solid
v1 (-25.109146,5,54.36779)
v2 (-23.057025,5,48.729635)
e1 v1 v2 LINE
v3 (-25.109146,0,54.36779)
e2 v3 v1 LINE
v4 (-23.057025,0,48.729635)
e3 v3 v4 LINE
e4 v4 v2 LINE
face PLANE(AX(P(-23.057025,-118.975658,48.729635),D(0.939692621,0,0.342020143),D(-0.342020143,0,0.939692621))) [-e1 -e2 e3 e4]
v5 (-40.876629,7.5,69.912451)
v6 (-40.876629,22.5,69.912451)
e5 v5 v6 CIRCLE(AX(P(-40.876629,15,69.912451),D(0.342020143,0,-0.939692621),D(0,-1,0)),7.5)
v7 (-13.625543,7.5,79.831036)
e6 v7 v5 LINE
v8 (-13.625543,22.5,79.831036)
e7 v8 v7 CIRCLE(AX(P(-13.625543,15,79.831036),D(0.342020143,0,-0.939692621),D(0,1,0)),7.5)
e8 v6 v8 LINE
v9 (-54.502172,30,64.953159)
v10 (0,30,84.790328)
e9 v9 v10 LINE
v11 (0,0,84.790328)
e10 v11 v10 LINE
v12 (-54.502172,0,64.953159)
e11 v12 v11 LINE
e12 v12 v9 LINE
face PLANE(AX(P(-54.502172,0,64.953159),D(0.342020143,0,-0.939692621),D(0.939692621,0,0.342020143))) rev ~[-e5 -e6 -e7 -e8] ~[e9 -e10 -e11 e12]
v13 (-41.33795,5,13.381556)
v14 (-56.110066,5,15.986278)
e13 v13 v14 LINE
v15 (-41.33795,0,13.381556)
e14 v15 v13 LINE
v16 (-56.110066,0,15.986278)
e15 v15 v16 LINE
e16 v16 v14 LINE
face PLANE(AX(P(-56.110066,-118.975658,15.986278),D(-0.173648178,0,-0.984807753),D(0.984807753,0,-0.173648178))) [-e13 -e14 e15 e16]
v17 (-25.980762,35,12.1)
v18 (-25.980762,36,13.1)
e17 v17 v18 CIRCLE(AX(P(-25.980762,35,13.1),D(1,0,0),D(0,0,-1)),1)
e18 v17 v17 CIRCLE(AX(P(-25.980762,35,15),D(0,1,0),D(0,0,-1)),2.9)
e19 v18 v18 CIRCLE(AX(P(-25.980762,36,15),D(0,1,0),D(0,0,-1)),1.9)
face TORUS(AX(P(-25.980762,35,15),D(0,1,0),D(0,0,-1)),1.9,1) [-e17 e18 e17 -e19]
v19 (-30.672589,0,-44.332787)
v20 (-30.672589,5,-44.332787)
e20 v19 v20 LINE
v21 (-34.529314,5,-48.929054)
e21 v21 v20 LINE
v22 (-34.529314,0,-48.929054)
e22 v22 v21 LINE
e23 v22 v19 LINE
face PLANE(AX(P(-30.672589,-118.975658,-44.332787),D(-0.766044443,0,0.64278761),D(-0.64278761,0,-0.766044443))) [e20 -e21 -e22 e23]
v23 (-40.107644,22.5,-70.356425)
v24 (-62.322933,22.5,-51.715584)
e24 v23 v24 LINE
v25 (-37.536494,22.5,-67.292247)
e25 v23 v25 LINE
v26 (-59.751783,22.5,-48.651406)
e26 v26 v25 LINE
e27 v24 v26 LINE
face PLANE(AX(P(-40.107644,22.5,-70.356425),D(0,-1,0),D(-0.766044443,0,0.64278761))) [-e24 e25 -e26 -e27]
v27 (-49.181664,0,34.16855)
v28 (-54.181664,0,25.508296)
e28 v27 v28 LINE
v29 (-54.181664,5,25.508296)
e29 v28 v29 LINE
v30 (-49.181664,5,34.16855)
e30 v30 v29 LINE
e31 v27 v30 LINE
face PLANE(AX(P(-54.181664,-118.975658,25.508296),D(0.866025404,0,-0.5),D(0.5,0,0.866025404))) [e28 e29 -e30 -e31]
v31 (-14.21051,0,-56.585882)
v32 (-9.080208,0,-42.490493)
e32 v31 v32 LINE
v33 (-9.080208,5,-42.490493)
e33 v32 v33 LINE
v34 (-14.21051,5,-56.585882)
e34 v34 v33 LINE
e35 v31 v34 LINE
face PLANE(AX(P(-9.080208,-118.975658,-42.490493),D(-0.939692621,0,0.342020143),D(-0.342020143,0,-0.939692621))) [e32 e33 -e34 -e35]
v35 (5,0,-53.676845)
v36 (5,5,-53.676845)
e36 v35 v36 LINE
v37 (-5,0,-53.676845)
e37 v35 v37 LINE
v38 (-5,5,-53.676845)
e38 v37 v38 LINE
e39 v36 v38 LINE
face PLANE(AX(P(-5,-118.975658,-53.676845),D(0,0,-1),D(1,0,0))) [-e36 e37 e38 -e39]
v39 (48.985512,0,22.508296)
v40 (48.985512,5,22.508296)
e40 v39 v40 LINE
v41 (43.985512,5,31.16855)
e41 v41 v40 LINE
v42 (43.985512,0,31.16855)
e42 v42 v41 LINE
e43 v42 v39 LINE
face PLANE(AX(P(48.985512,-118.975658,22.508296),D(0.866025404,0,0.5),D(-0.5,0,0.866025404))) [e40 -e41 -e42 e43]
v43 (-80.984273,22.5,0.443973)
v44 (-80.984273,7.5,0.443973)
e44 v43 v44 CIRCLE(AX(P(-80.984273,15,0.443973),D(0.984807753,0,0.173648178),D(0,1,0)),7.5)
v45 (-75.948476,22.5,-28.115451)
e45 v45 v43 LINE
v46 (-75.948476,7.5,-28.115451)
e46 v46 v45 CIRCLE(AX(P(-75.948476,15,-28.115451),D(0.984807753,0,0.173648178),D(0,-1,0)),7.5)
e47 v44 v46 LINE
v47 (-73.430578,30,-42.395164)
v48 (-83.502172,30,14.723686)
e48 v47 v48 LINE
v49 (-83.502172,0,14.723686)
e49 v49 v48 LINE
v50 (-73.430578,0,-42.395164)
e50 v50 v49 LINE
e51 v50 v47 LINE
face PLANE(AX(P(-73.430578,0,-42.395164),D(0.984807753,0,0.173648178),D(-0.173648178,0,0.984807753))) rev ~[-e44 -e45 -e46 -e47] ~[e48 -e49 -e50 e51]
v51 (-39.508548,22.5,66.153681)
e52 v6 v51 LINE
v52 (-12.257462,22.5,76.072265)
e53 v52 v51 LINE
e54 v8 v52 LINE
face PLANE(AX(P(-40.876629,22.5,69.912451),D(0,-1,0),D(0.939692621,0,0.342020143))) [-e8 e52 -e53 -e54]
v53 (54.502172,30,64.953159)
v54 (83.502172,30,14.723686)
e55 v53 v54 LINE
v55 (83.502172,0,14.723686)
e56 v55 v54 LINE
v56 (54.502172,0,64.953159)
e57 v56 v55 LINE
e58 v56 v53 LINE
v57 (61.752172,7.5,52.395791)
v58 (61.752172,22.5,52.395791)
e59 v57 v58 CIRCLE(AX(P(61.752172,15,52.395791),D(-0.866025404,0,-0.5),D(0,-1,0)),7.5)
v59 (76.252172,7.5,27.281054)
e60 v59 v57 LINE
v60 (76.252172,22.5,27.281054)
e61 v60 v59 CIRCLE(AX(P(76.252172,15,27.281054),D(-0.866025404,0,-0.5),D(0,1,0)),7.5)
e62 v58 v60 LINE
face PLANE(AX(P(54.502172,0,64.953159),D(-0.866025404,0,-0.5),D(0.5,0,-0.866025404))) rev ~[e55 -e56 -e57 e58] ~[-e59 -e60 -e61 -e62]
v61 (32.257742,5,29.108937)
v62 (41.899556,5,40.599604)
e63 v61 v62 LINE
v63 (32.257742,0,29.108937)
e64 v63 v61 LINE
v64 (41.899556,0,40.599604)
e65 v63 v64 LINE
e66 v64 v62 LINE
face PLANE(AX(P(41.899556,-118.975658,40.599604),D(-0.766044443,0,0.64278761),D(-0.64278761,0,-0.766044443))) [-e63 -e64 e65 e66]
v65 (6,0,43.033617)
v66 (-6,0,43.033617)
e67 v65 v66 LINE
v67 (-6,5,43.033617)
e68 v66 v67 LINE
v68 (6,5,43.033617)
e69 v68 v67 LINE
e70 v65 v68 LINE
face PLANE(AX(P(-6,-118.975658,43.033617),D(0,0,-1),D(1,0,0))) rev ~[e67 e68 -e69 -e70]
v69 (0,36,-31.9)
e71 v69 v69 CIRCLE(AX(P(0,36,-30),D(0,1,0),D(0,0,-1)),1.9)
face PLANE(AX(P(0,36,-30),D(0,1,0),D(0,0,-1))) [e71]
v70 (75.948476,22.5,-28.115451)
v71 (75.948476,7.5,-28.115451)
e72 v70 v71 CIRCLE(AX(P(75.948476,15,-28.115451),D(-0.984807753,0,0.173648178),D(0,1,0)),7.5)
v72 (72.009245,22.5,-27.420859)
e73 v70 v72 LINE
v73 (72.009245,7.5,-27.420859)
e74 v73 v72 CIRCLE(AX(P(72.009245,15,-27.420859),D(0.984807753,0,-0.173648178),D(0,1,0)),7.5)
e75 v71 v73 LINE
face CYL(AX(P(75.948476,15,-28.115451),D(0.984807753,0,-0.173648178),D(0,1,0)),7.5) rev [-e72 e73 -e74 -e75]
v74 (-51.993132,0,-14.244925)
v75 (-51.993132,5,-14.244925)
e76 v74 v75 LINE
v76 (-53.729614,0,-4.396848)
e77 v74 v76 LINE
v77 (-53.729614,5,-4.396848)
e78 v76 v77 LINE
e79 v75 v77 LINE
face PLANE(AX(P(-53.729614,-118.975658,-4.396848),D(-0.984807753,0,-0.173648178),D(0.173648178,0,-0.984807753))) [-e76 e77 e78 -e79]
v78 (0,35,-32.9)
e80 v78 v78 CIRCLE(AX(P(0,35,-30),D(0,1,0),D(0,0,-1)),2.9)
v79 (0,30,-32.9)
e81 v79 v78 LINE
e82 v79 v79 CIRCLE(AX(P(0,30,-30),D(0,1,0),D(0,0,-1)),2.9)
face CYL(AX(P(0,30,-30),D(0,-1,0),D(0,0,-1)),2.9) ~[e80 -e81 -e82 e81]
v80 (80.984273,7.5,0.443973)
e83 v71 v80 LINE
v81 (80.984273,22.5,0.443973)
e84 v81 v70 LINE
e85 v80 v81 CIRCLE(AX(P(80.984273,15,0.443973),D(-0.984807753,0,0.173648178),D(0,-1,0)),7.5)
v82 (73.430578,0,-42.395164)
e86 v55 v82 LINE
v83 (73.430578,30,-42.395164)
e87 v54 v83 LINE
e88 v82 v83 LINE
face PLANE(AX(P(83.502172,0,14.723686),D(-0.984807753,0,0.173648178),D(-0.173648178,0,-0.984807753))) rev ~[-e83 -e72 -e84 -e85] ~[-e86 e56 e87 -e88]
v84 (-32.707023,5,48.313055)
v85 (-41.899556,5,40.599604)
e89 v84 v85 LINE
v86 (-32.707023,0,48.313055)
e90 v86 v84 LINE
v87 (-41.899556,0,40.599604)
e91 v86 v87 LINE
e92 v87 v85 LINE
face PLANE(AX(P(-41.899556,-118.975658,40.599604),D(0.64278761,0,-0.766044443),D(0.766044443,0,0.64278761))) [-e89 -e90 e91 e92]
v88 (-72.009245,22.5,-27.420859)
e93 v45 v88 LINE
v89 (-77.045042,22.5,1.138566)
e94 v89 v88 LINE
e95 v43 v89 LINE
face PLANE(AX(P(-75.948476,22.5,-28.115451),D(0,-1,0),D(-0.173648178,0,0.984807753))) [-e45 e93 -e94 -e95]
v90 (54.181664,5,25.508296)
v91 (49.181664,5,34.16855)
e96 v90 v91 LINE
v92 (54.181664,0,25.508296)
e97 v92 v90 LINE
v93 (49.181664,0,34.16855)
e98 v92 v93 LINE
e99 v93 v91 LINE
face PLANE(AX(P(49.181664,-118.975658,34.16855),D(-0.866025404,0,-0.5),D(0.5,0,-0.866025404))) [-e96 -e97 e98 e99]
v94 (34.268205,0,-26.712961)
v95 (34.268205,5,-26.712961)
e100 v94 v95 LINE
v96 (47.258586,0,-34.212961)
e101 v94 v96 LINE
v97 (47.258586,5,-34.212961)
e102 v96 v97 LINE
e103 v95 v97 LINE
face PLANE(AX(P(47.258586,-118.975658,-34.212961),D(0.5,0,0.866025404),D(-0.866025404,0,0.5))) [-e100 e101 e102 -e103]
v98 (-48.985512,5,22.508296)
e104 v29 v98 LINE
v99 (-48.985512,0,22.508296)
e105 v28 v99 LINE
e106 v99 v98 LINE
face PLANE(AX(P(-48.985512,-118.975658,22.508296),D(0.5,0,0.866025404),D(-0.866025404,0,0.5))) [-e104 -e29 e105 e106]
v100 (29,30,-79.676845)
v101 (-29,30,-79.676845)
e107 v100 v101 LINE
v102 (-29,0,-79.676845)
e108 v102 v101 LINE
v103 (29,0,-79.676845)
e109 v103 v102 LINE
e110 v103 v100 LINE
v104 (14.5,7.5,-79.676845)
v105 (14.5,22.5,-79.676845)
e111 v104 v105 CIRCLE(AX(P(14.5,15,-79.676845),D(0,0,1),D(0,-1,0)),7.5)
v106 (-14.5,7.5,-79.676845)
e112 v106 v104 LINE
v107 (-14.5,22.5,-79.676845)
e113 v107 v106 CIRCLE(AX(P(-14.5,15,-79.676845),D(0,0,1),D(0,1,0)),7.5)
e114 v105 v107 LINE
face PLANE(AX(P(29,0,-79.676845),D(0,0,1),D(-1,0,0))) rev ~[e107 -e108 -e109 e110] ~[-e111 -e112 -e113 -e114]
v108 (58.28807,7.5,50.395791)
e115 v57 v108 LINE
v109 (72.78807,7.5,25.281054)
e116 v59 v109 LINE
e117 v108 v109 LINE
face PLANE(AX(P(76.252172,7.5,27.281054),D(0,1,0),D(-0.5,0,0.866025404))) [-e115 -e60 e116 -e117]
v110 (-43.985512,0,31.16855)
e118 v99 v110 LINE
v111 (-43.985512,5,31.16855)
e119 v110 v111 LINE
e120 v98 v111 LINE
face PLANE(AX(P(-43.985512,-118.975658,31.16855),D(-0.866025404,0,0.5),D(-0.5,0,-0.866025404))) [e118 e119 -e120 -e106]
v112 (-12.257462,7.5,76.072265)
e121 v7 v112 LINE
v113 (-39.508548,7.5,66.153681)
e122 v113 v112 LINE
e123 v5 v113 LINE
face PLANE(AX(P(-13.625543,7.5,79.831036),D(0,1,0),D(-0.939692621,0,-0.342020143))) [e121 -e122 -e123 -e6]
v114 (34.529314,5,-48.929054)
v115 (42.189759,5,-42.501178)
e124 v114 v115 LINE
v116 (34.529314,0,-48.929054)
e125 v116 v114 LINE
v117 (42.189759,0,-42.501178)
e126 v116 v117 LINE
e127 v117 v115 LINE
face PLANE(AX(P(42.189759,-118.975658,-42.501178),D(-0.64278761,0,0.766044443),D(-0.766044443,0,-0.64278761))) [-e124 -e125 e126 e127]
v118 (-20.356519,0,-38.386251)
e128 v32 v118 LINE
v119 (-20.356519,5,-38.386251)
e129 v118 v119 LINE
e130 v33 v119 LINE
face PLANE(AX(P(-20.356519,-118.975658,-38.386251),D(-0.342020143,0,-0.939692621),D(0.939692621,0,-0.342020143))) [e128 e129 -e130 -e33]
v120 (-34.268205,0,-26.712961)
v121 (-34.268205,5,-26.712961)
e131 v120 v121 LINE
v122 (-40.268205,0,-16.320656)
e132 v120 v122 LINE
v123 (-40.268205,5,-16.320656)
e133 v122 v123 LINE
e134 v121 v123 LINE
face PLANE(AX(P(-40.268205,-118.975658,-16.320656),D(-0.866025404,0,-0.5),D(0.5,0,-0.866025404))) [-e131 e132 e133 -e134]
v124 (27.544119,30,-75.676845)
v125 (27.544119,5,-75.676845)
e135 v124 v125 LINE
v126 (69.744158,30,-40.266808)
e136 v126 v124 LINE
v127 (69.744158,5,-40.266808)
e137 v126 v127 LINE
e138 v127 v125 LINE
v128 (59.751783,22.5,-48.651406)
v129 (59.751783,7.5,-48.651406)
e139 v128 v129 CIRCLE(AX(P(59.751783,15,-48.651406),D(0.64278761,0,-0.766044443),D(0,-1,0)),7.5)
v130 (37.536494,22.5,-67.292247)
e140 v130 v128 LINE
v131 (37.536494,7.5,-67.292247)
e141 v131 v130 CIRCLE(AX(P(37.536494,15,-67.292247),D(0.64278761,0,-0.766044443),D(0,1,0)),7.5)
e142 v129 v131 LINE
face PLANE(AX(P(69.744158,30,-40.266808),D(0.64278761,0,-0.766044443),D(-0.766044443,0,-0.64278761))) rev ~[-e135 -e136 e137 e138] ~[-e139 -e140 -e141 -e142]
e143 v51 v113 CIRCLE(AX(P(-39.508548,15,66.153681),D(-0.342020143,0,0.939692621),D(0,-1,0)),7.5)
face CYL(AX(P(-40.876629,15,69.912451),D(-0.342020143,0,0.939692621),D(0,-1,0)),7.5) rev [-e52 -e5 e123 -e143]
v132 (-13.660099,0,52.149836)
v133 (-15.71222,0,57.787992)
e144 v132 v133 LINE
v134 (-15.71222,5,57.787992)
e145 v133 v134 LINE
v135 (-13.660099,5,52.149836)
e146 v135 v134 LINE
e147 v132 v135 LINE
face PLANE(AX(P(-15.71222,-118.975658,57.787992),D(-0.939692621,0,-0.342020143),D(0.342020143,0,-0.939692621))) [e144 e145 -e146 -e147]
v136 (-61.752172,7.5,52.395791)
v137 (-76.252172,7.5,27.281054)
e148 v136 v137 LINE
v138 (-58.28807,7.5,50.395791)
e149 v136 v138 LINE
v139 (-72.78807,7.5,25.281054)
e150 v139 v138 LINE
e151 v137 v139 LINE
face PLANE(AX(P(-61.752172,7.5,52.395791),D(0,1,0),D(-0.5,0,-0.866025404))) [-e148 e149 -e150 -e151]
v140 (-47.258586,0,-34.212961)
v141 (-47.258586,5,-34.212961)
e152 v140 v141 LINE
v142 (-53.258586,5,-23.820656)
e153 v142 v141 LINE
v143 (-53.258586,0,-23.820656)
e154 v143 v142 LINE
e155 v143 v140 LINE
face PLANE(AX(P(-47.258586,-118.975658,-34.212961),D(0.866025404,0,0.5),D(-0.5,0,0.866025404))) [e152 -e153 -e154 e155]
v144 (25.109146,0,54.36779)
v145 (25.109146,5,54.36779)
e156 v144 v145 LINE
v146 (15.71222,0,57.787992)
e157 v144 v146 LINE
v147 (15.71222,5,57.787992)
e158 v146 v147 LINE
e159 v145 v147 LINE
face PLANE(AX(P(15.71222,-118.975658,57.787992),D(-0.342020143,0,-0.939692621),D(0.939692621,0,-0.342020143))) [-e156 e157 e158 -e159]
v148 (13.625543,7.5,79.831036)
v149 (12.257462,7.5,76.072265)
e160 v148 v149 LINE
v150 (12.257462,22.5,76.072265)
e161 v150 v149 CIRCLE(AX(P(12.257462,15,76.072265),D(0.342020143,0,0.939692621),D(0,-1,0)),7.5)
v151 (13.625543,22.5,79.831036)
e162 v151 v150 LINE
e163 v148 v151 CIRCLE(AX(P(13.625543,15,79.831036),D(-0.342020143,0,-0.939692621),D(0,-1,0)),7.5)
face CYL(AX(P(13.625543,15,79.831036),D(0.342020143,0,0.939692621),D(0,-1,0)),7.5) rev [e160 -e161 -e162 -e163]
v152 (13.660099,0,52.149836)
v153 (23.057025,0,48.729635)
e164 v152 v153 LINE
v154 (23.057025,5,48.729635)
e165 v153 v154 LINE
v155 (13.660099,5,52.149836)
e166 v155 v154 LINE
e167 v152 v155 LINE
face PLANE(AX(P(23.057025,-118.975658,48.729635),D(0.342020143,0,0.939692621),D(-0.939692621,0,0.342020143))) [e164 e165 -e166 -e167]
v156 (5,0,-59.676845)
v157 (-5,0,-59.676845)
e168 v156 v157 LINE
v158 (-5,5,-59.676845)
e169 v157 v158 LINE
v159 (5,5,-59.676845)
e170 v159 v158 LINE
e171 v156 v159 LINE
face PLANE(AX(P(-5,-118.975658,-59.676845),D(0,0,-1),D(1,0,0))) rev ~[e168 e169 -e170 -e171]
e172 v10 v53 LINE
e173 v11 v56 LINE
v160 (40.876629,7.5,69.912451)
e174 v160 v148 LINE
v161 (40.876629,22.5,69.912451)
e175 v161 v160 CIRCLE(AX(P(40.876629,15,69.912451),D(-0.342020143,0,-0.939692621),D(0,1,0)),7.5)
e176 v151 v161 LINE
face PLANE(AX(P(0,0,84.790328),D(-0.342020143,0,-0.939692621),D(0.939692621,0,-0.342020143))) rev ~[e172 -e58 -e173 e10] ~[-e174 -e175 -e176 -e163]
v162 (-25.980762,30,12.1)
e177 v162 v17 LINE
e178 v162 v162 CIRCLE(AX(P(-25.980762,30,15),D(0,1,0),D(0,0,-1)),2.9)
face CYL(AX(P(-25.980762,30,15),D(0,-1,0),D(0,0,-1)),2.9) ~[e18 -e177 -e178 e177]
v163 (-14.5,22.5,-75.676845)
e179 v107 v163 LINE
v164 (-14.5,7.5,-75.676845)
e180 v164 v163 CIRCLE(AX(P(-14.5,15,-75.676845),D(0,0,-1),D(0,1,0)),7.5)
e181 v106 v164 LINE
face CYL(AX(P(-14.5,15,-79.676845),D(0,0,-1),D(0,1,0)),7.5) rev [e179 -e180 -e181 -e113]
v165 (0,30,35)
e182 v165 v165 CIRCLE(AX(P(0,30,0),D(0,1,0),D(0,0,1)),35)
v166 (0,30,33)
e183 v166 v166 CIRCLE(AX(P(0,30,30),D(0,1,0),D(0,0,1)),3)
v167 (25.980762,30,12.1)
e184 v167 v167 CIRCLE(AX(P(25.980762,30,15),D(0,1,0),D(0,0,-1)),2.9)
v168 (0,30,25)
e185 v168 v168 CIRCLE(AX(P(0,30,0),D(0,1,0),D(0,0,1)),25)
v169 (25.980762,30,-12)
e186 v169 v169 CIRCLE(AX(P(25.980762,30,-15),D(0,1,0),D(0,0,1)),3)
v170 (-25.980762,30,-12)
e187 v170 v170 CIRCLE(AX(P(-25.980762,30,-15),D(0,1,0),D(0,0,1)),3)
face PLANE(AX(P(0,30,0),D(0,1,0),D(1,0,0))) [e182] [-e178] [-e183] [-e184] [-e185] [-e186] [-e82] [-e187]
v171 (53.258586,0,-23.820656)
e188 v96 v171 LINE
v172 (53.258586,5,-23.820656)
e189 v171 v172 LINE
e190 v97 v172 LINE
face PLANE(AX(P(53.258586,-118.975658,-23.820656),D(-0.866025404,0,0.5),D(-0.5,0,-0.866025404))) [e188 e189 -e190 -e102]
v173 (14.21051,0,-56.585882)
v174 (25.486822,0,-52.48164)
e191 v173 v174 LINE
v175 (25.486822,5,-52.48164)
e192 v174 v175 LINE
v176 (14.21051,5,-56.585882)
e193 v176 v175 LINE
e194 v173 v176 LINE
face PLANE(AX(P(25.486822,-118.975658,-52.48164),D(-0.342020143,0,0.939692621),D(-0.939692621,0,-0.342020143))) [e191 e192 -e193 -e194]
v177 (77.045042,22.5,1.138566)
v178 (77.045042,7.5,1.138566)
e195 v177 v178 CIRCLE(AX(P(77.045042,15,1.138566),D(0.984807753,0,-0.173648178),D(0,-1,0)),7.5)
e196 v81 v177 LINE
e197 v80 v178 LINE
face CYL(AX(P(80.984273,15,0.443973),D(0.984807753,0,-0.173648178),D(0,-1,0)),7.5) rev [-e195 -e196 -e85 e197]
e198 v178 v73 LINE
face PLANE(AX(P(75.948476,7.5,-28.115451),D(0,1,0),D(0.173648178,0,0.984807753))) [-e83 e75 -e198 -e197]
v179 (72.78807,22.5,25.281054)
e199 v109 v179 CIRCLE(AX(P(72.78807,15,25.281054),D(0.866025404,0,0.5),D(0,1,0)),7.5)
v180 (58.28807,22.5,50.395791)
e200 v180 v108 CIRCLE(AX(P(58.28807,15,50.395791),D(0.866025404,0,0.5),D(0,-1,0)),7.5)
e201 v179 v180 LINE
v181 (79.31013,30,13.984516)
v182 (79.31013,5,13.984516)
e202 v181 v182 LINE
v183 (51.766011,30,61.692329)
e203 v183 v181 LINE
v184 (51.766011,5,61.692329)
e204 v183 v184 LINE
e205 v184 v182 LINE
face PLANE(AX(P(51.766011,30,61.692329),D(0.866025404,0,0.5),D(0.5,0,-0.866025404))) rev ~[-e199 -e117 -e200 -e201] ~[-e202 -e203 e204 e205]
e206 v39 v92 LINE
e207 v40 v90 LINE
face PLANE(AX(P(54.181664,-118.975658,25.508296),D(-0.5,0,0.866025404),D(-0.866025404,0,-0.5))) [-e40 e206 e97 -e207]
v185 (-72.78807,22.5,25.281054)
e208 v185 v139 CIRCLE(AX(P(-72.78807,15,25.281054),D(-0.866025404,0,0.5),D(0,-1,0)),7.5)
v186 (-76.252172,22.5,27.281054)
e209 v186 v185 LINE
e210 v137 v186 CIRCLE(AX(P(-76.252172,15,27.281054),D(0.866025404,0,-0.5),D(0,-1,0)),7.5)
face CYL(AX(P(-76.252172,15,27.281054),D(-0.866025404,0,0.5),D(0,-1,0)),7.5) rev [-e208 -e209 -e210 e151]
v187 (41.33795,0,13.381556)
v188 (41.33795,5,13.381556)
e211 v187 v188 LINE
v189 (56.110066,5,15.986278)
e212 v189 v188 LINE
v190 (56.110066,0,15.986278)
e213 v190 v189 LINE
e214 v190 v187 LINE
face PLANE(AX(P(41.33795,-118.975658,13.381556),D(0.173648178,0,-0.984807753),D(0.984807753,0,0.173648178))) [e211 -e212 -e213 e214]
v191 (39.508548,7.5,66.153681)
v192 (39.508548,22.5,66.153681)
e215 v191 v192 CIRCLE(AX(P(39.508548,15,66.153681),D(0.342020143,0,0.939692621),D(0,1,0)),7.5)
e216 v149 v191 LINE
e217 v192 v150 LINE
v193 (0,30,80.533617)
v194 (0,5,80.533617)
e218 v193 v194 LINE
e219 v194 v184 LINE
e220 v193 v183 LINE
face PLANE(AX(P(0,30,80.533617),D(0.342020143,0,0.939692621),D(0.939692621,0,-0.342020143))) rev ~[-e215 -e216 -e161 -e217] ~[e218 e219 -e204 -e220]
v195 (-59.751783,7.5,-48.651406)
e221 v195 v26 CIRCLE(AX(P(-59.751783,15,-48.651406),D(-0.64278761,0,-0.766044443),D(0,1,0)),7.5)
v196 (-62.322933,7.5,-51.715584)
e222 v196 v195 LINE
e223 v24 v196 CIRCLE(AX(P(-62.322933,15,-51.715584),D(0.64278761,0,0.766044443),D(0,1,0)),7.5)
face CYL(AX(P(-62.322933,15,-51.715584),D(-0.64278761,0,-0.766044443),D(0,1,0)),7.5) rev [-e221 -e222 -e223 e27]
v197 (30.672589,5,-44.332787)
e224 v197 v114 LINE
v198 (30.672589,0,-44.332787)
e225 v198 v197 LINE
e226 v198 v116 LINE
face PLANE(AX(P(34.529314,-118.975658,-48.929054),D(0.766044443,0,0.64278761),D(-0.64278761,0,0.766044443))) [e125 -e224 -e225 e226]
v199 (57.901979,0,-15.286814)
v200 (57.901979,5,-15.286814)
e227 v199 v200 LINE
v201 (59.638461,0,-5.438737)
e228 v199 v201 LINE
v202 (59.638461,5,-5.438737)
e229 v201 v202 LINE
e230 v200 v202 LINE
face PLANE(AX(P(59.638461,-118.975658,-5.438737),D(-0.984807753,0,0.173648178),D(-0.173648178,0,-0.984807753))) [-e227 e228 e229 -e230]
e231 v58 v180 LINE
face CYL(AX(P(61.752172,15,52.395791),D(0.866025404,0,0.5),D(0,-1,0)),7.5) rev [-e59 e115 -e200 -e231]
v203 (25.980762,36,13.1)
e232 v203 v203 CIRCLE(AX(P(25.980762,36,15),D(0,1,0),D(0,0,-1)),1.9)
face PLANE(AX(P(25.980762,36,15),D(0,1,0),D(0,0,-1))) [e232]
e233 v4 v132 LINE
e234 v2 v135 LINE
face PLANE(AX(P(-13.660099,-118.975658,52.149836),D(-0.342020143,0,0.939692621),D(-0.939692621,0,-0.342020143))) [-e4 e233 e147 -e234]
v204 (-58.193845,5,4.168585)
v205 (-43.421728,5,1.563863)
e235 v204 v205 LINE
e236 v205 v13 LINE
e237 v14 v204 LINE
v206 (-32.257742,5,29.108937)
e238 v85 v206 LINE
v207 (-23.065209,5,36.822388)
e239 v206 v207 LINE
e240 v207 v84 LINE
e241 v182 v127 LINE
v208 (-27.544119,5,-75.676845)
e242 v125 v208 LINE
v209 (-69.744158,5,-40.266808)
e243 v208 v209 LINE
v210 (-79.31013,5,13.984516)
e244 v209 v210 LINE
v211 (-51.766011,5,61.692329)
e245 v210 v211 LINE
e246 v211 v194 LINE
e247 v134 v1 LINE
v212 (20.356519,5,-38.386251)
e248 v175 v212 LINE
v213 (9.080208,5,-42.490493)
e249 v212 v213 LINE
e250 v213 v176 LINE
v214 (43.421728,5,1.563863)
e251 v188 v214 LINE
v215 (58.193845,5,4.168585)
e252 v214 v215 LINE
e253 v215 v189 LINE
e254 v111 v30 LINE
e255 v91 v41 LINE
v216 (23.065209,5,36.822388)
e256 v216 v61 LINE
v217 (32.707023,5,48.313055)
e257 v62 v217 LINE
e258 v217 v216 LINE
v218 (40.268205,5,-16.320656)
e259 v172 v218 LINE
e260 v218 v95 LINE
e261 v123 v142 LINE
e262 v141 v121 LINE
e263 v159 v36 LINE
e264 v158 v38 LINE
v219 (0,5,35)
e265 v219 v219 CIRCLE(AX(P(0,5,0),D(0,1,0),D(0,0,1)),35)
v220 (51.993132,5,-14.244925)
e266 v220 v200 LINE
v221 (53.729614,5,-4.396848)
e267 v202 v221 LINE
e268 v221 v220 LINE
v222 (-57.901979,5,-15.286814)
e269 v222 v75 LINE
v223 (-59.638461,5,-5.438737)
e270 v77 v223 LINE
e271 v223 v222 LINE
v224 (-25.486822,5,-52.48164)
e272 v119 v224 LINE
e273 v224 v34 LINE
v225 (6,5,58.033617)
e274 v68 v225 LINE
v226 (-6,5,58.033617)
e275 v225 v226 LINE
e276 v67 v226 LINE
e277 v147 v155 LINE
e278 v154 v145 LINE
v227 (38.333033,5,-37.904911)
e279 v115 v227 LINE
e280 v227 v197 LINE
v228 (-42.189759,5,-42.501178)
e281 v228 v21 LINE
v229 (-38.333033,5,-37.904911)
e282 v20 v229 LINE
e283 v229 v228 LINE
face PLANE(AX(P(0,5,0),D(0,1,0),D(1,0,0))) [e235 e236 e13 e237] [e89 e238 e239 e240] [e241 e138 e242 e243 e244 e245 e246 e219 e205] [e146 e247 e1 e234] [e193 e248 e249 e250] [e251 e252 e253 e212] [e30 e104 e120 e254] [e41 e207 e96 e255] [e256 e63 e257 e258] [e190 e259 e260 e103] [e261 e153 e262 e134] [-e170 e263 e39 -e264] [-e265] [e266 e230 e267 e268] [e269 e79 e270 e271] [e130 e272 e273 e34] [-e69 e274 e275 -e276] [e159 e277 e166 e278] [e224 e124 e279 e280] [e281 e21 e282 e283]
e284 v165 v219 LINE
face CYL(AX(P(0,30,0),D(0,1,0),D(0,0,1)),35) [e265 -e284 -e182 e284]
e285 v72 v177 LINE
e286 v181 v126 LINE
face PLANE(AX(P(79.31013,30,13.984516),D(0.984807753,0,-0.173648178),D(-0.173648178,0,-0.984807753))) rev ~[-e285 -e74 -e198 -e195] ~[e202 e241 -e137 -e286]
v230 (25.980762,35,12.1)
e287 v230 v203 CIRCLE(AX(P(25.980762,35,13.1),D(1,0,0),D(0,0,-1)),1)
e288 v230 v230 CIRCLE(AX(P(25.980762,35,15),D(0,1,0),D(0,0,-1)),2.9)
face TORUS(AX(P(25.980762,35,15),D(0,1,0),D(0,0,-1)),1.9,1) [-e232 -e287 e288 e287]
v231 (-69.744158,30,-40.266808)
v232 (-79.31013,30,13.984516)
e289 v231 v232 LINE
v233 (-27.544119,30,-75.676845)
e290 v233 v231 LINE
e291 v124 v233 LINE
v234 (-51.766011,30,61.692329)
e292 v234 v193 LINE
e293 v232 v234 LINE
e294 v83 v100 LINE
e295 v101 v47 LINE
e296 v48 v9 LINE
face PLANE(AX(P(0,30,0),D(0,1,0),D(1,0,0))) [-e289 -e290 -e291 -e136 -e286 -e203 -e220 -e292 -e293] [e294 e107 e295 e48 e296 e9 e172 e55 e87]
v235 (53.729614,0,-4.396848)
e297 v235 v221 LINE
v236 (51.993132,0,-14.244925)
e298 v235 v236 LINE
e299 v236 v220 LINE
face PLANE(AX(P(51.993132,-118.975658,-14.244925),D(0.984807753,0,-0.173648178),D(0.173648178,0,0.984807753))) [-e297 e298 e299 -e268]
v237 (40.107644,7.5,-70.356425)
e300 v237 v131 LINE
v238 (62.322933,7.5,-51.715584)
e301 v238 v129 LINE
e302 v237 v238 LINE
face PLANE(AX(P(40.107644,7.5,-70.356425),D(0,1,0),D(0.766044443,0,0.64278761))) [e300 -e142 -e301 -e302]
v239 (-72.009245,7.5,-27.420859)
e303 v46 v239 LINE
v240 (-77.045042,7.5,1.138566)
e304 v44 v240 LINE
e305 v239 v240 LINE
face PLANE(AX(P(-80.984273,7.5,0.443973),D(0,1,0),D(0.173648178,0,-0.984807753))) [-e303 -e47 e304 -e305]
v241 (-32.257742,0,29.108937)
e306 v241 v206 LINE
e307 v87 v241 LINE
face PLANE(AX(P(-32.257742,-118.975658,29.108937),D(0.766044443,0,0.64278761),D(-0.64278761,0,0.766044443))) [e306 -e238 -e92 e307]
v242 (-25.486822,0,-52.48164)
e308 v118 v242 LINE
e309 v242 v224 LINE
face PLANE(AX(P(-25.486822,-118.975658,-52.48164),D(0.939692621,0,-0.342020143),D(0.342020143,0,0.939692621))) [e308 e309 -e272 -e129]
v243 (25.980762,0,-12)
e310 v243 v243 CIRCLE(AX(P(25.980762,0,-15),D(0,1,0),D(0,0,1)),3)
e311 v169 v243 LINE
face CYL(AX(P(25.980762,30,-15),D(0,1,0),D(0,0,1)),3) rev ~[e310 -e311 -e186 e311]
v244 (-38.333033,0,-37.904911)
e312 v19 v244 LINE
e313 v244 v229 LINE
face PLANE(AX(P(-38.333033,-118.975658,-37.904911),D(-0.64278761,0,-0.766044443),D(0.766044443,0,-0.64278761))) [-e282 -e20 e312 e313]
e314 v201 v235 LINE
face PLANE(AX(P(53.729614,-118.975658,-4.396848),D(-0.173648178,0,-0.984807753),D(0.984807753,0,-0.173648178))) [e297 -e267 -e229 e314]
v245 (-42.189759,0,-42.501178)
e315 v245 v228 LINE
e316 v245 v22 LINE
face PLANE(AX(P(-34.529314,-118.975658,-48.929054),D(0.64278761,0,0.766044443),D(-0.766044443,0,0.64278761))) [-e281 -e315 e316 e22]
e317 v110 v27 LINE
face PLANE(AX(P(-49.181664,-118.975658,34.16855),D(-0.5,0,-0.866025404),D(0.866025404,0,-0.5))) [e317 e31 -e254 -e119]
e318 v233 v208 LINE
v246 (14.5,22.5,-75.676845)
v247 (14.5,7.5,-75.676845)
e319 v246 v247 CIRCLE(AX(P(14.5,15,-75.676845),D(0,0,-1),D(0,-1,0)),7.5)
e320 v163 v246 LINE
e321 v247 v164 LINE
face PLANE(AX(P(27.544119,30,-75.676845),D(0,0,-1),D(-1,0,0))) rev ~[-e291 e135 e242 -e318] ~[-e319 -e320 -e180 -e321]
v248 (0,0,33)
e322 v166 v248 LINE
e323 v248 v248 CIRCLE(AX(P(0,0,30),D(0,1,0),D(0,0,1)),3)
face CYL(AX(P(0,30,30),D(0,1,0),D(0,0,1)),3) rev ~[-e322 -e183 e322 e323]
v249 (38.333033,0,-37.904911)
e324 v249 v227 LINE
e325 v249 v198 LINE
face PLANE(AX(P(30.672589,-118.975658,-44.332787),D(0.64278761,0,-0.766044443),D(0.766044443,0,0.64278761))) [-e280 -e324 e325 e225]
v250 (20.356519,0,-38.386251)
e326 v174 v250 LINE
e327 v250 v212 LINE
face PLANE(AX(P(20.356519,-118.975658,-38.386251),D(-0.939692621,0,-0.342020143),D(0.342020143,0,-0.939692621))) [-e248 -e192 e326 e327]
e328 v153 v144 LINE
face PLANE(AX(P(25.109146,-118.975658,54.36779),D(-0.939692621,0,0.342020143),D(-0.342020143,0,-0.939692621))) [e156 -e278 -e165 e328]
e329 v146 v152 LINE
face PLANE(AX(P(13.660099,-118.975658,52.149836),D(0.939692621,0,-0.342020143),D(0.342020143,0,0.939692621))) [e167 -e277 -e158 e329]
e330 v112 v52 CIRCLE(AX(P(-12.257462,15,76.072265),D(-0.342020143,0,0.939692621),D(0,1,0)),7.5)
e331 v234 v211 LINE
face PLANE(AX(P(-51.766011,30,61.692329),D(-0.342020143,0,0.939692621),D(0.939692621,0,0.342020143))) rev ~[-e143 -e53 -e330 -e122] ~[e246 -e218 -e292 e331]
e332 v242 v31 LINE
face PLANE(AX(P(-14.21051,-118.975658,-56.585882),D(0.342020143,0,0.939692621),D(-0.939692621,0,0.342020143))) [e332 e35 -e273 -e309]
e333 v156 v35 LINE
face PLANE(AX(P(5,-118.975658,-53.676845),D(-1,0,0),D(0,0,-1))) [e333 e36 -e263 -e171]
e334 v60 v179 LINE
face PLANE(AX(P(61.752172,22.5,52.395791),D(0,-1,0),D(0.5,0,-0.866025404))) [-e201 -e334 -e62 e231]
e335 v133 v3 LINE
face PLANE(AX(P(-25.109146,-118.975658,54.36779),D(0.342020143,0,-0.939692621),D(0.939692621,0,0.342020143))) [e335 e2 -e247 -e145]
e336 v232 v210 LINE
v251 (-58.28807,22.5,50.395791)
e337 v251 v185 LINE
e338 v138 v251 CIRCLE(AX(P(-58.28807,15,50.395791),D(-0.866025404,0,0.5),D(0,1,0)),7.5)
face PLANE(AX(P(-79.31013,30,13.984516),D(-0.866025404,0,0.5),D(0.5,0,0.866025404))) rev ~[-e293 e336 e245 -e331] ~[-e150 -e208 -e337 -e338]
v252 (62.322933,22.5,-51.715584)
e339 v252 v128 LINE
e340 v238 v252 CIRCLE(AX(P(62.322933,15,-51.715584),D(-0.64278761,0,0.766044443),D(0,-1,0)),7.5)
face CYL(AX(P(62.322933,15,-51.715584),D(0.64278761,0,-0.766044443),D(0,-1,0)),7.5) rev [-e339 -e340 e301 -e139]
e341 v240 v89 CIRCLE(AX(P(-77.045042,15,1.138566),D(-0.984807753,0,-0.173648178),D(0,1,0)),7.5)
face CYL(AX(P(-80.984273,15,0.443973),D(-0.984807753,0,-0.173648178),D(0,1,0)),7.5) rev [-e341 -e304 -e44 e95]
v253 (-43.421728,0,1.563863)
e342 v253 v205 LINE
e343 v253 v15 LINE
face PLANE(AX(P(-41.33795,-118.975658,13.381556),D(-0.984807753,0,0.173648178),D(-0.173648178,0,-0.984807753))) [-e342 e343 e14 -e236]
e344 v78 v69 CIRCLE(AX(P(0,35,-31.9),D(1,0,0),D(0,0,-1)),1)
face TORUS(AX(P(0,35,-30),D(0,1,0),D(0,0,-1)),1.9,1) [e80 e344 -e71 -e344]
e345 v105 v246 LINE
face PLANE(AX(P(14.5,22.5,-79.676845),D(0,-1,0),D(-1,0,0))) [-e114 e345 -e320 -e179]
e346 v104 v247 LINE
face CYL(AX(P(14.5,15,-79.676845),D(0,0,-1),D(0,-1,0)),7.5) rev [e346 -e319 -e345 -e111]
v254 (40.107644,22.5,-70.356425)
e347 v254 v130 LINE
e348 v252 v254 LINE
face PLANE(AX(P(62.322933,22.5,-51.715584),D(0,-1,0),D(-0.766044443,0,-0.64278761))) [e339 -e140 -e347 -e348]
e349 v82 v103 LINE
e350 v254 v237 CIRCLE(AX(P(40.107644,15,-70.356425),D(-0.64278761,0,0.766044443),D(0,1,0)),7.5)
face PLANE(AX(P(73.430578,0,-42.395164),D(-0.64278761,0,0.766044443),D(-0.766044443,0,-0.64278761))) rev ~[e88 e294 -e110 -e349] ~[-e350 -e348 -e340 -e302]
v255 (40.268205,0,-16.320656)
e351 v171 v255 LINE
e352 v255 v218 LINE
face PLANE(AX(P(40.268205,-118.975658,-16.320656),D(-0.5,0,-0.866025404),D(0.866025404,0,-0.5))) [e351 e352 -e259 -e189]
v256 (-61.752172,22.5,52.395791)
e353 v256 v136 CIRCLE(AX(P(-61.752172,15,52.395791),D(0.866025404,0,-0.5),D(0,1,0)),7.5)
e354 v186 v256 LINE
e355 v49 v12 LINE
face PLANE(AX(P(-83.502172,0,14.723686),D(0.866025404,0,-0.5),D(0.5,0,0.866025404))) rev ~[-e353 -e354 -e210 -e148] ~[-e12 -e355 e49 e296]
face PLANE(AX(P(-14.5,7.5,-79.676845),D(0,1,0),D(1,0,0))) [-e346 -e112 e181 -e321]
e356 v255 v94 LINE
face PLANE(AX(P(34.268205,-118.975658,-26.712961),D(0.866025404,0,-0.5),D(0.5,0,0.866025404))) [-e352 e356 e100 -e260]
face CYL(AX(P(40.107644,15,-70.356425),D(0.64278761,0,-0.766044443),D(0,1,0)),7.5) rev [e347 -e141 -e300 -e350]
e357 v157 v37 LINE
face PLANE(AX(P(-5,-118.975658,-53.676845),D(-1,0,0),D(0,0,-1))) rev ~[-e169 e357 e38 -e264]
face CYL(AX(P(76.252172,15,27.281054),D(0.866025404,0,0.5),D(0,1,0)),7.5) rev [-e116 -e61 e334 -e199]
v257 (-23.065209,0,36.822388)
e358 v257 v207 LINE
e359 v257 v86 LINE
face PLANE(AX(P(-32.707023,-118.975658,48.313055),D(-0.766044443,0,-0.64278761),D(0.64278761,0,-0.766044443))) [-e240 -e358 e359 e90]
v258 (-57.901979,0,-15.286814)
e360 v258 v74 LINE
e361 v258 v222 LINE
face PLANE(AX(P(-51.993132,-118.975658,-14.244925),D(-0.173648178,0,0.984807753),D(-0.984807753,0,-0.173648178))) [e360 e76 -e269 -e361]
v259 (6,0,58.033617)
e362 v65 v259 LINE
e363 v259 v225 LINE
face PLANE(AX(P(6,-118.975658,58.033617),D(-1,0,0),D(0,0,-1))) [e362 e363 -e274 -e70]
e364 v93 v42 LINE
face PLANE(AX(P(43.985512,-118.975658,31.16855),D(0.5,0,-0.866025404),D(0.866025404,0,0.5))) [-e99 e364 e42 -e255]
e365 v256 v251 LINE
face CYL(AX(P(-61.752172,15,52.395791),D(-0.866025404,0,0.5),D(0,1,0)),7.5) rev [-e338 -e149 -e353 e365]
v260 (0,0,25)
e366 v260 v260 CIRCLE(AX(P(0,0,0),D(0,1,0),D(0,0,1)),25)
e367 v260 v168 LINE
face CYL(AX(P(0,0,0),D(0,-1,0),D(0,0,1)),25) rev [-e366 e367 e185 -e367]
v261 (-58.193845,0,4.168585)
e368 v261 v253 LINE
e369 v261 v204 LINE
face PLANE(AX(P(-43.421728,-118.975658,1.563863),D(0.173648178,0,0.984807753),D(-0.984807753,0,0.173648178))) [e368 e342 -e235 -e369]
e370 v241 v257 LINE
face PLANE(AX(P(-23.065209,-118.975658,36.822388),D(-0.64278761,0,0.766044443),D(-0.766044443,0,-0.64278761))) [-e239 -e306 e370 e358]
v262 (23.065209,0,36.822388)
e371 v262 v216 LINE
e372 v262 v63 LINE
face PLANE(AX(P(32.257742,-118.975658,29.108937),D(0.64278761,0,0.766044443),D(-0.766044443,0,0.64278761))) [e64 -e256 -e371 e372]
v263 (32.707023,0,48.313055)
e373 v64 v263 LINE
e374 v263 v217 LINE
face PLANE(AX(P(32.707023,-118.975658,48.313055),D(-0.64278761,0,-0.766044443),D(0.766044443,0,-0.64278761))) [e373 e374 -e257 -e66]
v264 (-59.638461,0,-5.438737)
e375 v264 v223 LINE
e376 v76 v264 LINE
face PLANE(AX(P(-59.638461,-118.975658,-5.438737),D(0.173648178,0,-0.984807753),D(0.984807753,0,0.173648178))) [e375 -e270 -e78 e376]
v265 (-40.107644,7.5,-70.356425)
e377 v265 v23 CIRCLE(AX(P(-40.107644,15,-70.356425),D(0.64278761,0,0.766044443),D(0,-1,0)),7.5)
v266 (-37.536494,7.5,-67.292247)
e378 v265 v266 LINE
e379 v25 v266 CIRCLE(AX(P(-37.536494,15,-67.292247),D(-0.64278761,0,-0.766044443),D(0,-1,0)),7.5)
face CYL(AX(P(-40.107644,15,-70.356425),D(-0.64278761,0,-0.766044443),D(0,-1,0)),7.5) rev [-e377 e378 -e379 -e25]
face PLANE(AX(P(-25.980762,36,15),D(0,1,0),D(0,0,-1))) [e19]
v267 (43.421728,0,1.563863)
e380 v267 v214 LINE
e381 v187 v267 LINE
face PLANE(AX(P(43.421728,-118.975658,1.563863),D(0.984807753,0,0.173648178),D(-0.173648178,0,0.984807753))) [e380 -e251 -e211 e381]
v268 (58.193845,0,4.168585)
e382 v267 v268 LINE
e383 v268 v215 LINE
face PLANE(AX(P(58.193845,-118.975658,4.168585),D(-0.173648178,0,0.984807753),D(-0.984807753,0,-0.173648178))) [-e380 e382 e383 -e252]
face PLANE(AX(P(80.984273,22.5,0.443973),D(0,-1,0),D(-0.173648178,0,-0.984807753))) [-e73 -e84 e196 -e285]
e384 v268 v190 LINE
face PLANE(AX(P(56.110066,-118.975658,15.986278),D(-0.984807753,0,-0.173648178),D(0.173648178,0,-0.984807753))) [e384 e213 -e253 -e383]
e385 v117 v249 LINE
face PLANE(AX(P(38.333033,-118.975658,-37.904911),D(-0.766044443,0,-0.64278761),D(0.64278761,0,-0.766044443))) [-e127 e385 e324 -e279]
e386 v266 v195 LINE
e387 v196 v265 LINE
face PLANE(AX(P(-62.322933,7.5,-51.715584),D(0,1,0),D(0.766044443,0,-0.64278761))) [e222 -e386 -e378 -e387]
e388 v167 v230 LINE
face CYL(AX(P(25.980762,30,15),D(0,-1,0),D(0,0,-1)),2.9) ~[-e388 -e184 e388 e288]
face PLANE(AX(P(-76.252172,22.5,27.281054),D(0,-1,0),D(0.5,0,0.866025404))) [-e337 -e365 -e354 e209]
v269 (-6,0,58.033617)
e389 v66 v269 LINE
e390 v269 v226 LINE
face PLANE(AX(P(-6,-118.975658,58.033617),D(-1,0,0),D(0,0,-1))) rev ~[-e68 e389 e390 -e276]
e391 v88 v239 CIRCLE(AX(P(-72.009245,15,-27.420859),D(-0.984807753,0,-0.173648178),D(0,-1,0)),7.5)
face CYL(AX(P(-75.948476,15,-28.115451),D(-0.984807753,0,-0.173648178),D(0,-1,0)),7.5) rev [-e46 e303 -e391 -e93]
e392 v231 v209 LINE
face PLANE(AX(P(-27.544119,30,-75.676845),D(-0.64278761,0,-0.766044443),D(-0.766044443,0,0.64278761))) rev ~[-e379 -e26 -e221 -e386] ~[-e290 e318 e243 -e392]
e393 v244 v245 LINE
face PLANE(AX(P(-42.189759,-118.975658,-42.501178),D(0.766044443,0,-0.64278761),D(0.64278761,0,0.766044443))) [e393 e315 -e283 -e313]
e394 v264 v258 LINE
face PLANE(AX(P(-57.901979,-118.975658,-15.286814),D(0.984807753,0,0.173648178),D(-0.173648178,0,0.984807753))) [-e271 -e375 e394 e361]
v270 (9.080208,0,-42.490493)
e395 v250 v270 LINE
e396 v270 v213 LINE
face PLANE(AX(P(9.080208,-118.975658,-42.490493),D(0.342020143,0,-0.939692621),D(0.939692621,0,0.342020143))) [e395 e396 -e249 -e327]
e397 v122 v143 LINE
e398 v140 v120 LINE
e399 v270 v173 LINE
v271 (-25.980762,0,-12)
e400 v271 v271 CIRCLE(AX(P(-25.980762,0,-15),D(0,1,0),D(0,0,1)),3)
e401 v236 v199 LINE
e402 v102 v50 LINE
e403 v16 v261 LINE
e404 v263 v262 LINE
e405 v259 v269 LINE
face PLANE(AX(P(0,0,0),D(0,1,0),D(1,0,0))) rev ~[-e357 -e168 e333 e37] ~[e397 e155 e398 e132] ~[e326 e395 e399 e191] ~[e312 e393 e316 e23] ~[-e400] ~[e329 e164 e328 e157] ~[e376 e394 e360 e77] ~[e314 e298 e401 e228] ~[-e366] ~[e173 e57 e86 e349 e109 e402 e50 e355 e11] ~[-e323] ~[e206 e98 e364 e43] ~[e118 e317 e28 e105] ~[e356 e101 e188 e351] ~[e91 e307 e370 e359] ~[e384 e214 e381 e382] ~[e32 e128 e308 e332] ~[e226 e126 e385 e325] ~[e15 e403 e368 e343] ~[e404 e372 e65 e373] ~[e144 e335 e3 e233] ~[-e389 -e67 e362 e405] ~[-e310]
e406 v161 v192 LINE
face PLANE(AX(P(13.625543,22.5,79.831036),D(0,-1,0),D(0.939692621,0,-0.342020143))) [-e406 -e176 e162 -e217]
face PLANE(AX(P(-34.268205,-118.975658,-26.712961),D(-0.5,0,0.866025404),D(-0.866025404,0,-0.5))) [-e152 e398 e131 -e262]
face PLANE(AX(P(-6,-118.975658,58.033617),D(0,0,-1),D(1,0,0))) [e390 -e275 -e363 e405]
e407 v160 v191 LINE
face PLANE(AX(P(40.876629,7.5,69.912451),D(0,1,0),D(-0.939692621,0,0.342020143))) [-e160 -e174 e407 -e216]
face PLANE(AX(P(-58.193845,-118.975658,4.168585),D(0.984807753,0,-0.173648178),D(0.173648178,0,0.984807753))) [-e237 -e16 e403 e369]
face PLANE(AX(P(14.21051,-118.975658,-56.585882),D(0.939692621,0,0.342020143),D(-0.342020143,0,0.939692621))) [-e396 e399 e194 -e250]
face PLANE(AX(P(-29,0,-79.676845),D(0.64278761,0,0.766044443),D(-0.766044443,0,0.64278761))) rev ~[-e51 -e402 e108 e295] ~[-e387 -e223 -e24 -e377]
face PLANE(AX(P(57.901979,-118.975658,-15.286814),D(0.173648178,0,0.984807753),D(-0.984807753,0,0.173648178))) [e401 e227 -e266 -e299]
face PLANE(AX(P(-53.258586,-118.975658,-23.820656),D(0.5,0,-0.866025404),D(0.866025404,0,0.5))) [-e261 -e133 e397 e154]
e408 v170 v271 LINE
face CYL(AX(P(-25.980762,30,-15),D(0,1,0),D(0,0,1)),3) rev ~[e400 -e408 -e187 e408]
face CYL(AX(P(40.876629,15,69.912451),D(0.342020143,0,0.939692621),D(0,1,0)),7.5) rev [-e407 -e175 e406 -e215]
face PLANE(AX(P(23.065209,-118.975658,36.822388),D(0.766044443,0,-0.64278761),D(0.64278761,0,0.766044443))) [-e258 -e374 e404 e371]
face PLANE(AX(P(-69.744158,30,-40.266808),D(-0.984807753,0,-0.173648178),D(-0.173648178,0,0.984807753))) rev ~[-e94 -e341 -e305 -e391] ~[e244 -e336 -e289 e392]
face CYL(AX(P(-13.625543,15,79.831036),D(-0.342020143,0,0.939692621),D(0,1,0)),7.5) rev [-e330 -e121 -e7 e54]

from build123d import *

# Parameters (mm, degrees)
ESBO_O1_R                  = 25
RESSALTO_EXTRUS_O1_DEPTH   = 30
ESBO_O2_R                  = 35
CORTE_EXTRUS_O1_DEPTH      = 25
ESBO_O3_R                  = 2.9
RESSALTO_EXTRUS_O2_DEPTH   = 6
ESBO_O4_R                  = 3
CORTE_EXTRUS_O2_DEPTH      = 123.727390525
CORTE_EXTRUS_O3_REACH      = 189.931
PADR_OCIRCULAR1_COUNT      = 9
CORTE_EXTRUS_O4_DEPTH      = 123.975657693
CORTE_EXTRUS_O4_DEPTH_BACK = 123.975657693
ESBO_O7_W                  = 10
ESBO_O7_H                  = 6
ESBO_O7_W_2                = 12
ESBO_O7_H_2                = 15
FILETE1_R                  = 1


with BuildPart() as part:
    # Esboço1 → Ressalto-extrusão1 (new body)
    with BuildSketch(Plane(origin=(0, 0, 0), x_dir=(1, 0, 0), z_dir=(0, 1, 0))):
        Polygon((-73.430577701, 42.395163802), (-83.502172006, -14.723685872), (-54.502172006, -64.953159292), (0, -84.790327605), (54.502172006, -64.953159292), (83.502172006, -14.723685872), (73.430577701, 42.395163802), (29, 79.676845164), (-29, 79.676845164), align=None)
        with Locations(Location((0, 0, 0), (0, 0, 270))):
            Circle(ESBO_O1_R, mode=Mode.SUBTRACT)
    extrude(amount=RESSALTO_EXTRUS_O1_DEPTH)

    # Esboço2 → Corte-extrusão1 (cut)
    with BuildSketch(Plane(origin=(0, 30, 0), x_dir=(1, 0, 0), z_dir=(0, 1, 0))):
        Polygon((-79.310129922, -13.984515749), (-51.766010859, -61.692329415), (0, -80.533616515), (51.766010859, -61.692329415), (79.310129922, -13.984515749), (69.74415776, 40.266808257), (27.544119063, 75.676845164), (-27.544119063, 75.676845164), (-69.74415776, 40.266808257), align=None)
        with Locations(Location((0, 0, 0), (0, 0, 270))):
            Circle(ESBO_O2_R, mode=Mode.SUBTRACT)
    extrude(amount=-CORTE_EXTRUS_O1_DEPTH, mode=Mode.SUBTRACT)

    # Esboço3 → Ressalto-extrusão2 (add)
    with BuildSketch(Plane(origin=(0, 30, 0), x_dir=(1, 0, 0), z_dir=(0, 1, 0))):
        with Locations(Location((0, 30, 0), (0, 0, 90))):
            Circle(ESBO_O3_R)
        with Locations(Location((25.980762114, -15, 0), (0, 0, 90))):
            Circle(ESBO_O3_R)
        with Locations(Location((-25.980762114, -15, 0), (0, 0, 90))):
            Circle(ESBO_O3_R)
    extrude(amount=RESSALTO_EXTRUS_O2_DEPTH)

    # Esboço4 → Corte-extrusão2 (cut, through all)
    with BuildSketch(Plane(origin=(0, 30, 0), x_dir=(1, 0, 0), z_dir=(0, 1, 0))):
        with Locations(Location((0, -30, 0), (0, 0, 270))):
            Circle(ESBO_O4_R)
        with Locations(Location((-25.980762114, 15, 0), (0, 0, 270))):
            Circle(ESBO_O4_R)
        with Locations(Location((25.980762114, 15, 0), (0, 0, 270))):
            Circle(ESBO_O4_R)
    extrude(amount=-CORTE_EXTRUS_O2_DEPTH, mode=Mode.SUBTRACT)

    # Esboço5 → Corte-extrusão3 (cut, up to next)
    with BuildSketch(Plane(origin=(0, 0, -79.676845164), x_dir=(-1, 0, 0), z_dir=(0, 0, -1)), mode=Mode.PRIVATE) as corte_extrus_o3_sk1:
        with BuildLine():
            Line((-14.5, 22.5), (14.5, 22.5))
            ThreePointArc((14.5, 22.5), (22, 15), (14.5, 7.5))
            Line((14.5, 7.5), (-14.5, 7.5))
            ThreePointArc((-14.5, 7.5), (-22, 15), (-14.5, 22.5))
        make_face()
    corte_extrus_o3_tool1 = extrude(corte_extrus_o3_sk1.sketch, amount=-CORTE_EXTRUS_O3_REACH, mode=Mode.PRIVATE) & part.part
    corte_extrus_o3 = corte_extrus_o3_tool1.solids().sort_by_distance((0, 15, -79.676845))[0]
    add(corte_extrus_o3, mode=Mode.SUBTRACT)

    # PadrãoCircular1: Corte-extrusão3 ×9 about axis
    padr_ocircular1_axis = Axis((0, 0, 0), (0, 1, 0))
    for i in range(1, PADR_OCIRCULAR1_COUNT):
        add(corte_extrus_o3.rotate(padr_ocircular1_axis, i * 360 / PADR_OCIRCULAR1_COUNT), mode=Mode.SUBTRACT)

    # Esboço7 → Corte-extrusão4 (cut, two sides: drawn at the far end of the back side and taken through both)
    with BuildSketch(Plane(origin=(0, 5, 0), x_dir=(1, 0, 0), z_dir=(0, 1, 0)).offset(-CORTE_EXTRUS_O4_DEPTH_BACK)):
        Polygon((30.672588783, 44.332787011), (38.333033214, 37.904910914), (42.189758872, 42.501177572), (34.529314441, 48.929053669), align=None)
        with Locations((0, 56.676845164)):
            Rectangle(ESBO_O7_W, ESBO_O7_H)
        Polygon((51.993132387, 14.244925111), (53.729614163, 4.396847581), (59.638460681, 5.438736647), (57.901978905, 15.286814177), align=None)
        Polygon((48.985511507, -22.508295563), (43.985511507, -31.168549601), (49.18166393, -34.168549601), (54.18166393, -25.508295563), align=None)
        Polygon((23.05702538, -48.729634591), (13.660099172, -52.149836024), (15.712220032, -57.787991749), (25.10914624, -54.367790316), align=None)
        Polygon((-13.660099172, -52.149836024), (-23.05702538, -48.729634591), (-25.10914624, -54.367790316), (-15.712220032, -57.787991749), align=None)
        Polygon((-43.985511507, -31.168549601), (-48.985511507, -22.508295563), (-54.18166393, -25.508295563), (-49.18166393, -34.168549601), align=None)
        Polygon((-53.729614163, 4.396847581), (-51.993132387, 14.244925111), (-57.901978905, 15.286814177), (-59.638460681, 5.438736647), align=None)
        Polygon((-38.333033214, 37.904910914), (-30.672588783, 44.332787011), (-34.529314441, 48.929053669), (-42.189758872, 42.501177572), align=None)
        Polygon((-23.065208837, -36.822388457), (-32.257742154, -29.10893714), (-41.8995563, -40.599603787), (-32.707022982, -48.313055103), align=None)
        with Locations((0, -50.533616515)):
            Rectangle(ESBO_O7_W_2, ESBO_O7_H_2)
        Polygon((-41.337950118, -13.381555604), (-43.42172825, -1.563862568), (-58.193844545, -4.168585233), (-56.110066413, -15.986278269), align=None)
        Polygon((-40.268205119, 16.320655835), (-34.268205119, 26.71296068), (-47.258586175, 34.21296068), (-53.258586175, 23.820655835), align=None)
        Polygon((-20.356519413, 38.386251025), (-9.080207964, 42.490492745), (-14.210510113, 56.585882056), (-25.486821563, 52.481640337), align=None)
        Polygon((9.080207964, 42.490492745), (20.356519413, 38.386251025), (25.486821563, 52.481640337), (14.210510113, 56.585882056), align=None)
        Polygon((34.268205119, 26.71296068), (40.268205119, 16.320655835), (53.258586175, 23.820655835), (47.258586175, 34.21296068), align=None)
        Polygon((43.42172825, -1.563862568), (41.337950118, -13.381555604), (56.110066413, -15.986278269), (58.193844545, -4.168585233), align=None)
        Polygon((32.257742154, -29.10893714), (23.065208837, -36.822388457), (32.707022982, -48.313055103), (41.8995563, -40.599603787), align=None)
    extrude(amount=CORTE_EXTRUS_O4_DEPTH + CORTE_EXTRUS_O4_DEPTH_BACK, mode=Mode.SUBTRACT)

    # Filete1
    filete1_edges = [part.edges().sort_by_distance(p)[0] for p in [
        (0, 36, -27.1),
        (25.980762114, 36, 17.9),
        (-25.980762114, 36, 17.9),
    ]]
    fillet(filete1_edges, radius=FILETE1_R)


solid = part.part
